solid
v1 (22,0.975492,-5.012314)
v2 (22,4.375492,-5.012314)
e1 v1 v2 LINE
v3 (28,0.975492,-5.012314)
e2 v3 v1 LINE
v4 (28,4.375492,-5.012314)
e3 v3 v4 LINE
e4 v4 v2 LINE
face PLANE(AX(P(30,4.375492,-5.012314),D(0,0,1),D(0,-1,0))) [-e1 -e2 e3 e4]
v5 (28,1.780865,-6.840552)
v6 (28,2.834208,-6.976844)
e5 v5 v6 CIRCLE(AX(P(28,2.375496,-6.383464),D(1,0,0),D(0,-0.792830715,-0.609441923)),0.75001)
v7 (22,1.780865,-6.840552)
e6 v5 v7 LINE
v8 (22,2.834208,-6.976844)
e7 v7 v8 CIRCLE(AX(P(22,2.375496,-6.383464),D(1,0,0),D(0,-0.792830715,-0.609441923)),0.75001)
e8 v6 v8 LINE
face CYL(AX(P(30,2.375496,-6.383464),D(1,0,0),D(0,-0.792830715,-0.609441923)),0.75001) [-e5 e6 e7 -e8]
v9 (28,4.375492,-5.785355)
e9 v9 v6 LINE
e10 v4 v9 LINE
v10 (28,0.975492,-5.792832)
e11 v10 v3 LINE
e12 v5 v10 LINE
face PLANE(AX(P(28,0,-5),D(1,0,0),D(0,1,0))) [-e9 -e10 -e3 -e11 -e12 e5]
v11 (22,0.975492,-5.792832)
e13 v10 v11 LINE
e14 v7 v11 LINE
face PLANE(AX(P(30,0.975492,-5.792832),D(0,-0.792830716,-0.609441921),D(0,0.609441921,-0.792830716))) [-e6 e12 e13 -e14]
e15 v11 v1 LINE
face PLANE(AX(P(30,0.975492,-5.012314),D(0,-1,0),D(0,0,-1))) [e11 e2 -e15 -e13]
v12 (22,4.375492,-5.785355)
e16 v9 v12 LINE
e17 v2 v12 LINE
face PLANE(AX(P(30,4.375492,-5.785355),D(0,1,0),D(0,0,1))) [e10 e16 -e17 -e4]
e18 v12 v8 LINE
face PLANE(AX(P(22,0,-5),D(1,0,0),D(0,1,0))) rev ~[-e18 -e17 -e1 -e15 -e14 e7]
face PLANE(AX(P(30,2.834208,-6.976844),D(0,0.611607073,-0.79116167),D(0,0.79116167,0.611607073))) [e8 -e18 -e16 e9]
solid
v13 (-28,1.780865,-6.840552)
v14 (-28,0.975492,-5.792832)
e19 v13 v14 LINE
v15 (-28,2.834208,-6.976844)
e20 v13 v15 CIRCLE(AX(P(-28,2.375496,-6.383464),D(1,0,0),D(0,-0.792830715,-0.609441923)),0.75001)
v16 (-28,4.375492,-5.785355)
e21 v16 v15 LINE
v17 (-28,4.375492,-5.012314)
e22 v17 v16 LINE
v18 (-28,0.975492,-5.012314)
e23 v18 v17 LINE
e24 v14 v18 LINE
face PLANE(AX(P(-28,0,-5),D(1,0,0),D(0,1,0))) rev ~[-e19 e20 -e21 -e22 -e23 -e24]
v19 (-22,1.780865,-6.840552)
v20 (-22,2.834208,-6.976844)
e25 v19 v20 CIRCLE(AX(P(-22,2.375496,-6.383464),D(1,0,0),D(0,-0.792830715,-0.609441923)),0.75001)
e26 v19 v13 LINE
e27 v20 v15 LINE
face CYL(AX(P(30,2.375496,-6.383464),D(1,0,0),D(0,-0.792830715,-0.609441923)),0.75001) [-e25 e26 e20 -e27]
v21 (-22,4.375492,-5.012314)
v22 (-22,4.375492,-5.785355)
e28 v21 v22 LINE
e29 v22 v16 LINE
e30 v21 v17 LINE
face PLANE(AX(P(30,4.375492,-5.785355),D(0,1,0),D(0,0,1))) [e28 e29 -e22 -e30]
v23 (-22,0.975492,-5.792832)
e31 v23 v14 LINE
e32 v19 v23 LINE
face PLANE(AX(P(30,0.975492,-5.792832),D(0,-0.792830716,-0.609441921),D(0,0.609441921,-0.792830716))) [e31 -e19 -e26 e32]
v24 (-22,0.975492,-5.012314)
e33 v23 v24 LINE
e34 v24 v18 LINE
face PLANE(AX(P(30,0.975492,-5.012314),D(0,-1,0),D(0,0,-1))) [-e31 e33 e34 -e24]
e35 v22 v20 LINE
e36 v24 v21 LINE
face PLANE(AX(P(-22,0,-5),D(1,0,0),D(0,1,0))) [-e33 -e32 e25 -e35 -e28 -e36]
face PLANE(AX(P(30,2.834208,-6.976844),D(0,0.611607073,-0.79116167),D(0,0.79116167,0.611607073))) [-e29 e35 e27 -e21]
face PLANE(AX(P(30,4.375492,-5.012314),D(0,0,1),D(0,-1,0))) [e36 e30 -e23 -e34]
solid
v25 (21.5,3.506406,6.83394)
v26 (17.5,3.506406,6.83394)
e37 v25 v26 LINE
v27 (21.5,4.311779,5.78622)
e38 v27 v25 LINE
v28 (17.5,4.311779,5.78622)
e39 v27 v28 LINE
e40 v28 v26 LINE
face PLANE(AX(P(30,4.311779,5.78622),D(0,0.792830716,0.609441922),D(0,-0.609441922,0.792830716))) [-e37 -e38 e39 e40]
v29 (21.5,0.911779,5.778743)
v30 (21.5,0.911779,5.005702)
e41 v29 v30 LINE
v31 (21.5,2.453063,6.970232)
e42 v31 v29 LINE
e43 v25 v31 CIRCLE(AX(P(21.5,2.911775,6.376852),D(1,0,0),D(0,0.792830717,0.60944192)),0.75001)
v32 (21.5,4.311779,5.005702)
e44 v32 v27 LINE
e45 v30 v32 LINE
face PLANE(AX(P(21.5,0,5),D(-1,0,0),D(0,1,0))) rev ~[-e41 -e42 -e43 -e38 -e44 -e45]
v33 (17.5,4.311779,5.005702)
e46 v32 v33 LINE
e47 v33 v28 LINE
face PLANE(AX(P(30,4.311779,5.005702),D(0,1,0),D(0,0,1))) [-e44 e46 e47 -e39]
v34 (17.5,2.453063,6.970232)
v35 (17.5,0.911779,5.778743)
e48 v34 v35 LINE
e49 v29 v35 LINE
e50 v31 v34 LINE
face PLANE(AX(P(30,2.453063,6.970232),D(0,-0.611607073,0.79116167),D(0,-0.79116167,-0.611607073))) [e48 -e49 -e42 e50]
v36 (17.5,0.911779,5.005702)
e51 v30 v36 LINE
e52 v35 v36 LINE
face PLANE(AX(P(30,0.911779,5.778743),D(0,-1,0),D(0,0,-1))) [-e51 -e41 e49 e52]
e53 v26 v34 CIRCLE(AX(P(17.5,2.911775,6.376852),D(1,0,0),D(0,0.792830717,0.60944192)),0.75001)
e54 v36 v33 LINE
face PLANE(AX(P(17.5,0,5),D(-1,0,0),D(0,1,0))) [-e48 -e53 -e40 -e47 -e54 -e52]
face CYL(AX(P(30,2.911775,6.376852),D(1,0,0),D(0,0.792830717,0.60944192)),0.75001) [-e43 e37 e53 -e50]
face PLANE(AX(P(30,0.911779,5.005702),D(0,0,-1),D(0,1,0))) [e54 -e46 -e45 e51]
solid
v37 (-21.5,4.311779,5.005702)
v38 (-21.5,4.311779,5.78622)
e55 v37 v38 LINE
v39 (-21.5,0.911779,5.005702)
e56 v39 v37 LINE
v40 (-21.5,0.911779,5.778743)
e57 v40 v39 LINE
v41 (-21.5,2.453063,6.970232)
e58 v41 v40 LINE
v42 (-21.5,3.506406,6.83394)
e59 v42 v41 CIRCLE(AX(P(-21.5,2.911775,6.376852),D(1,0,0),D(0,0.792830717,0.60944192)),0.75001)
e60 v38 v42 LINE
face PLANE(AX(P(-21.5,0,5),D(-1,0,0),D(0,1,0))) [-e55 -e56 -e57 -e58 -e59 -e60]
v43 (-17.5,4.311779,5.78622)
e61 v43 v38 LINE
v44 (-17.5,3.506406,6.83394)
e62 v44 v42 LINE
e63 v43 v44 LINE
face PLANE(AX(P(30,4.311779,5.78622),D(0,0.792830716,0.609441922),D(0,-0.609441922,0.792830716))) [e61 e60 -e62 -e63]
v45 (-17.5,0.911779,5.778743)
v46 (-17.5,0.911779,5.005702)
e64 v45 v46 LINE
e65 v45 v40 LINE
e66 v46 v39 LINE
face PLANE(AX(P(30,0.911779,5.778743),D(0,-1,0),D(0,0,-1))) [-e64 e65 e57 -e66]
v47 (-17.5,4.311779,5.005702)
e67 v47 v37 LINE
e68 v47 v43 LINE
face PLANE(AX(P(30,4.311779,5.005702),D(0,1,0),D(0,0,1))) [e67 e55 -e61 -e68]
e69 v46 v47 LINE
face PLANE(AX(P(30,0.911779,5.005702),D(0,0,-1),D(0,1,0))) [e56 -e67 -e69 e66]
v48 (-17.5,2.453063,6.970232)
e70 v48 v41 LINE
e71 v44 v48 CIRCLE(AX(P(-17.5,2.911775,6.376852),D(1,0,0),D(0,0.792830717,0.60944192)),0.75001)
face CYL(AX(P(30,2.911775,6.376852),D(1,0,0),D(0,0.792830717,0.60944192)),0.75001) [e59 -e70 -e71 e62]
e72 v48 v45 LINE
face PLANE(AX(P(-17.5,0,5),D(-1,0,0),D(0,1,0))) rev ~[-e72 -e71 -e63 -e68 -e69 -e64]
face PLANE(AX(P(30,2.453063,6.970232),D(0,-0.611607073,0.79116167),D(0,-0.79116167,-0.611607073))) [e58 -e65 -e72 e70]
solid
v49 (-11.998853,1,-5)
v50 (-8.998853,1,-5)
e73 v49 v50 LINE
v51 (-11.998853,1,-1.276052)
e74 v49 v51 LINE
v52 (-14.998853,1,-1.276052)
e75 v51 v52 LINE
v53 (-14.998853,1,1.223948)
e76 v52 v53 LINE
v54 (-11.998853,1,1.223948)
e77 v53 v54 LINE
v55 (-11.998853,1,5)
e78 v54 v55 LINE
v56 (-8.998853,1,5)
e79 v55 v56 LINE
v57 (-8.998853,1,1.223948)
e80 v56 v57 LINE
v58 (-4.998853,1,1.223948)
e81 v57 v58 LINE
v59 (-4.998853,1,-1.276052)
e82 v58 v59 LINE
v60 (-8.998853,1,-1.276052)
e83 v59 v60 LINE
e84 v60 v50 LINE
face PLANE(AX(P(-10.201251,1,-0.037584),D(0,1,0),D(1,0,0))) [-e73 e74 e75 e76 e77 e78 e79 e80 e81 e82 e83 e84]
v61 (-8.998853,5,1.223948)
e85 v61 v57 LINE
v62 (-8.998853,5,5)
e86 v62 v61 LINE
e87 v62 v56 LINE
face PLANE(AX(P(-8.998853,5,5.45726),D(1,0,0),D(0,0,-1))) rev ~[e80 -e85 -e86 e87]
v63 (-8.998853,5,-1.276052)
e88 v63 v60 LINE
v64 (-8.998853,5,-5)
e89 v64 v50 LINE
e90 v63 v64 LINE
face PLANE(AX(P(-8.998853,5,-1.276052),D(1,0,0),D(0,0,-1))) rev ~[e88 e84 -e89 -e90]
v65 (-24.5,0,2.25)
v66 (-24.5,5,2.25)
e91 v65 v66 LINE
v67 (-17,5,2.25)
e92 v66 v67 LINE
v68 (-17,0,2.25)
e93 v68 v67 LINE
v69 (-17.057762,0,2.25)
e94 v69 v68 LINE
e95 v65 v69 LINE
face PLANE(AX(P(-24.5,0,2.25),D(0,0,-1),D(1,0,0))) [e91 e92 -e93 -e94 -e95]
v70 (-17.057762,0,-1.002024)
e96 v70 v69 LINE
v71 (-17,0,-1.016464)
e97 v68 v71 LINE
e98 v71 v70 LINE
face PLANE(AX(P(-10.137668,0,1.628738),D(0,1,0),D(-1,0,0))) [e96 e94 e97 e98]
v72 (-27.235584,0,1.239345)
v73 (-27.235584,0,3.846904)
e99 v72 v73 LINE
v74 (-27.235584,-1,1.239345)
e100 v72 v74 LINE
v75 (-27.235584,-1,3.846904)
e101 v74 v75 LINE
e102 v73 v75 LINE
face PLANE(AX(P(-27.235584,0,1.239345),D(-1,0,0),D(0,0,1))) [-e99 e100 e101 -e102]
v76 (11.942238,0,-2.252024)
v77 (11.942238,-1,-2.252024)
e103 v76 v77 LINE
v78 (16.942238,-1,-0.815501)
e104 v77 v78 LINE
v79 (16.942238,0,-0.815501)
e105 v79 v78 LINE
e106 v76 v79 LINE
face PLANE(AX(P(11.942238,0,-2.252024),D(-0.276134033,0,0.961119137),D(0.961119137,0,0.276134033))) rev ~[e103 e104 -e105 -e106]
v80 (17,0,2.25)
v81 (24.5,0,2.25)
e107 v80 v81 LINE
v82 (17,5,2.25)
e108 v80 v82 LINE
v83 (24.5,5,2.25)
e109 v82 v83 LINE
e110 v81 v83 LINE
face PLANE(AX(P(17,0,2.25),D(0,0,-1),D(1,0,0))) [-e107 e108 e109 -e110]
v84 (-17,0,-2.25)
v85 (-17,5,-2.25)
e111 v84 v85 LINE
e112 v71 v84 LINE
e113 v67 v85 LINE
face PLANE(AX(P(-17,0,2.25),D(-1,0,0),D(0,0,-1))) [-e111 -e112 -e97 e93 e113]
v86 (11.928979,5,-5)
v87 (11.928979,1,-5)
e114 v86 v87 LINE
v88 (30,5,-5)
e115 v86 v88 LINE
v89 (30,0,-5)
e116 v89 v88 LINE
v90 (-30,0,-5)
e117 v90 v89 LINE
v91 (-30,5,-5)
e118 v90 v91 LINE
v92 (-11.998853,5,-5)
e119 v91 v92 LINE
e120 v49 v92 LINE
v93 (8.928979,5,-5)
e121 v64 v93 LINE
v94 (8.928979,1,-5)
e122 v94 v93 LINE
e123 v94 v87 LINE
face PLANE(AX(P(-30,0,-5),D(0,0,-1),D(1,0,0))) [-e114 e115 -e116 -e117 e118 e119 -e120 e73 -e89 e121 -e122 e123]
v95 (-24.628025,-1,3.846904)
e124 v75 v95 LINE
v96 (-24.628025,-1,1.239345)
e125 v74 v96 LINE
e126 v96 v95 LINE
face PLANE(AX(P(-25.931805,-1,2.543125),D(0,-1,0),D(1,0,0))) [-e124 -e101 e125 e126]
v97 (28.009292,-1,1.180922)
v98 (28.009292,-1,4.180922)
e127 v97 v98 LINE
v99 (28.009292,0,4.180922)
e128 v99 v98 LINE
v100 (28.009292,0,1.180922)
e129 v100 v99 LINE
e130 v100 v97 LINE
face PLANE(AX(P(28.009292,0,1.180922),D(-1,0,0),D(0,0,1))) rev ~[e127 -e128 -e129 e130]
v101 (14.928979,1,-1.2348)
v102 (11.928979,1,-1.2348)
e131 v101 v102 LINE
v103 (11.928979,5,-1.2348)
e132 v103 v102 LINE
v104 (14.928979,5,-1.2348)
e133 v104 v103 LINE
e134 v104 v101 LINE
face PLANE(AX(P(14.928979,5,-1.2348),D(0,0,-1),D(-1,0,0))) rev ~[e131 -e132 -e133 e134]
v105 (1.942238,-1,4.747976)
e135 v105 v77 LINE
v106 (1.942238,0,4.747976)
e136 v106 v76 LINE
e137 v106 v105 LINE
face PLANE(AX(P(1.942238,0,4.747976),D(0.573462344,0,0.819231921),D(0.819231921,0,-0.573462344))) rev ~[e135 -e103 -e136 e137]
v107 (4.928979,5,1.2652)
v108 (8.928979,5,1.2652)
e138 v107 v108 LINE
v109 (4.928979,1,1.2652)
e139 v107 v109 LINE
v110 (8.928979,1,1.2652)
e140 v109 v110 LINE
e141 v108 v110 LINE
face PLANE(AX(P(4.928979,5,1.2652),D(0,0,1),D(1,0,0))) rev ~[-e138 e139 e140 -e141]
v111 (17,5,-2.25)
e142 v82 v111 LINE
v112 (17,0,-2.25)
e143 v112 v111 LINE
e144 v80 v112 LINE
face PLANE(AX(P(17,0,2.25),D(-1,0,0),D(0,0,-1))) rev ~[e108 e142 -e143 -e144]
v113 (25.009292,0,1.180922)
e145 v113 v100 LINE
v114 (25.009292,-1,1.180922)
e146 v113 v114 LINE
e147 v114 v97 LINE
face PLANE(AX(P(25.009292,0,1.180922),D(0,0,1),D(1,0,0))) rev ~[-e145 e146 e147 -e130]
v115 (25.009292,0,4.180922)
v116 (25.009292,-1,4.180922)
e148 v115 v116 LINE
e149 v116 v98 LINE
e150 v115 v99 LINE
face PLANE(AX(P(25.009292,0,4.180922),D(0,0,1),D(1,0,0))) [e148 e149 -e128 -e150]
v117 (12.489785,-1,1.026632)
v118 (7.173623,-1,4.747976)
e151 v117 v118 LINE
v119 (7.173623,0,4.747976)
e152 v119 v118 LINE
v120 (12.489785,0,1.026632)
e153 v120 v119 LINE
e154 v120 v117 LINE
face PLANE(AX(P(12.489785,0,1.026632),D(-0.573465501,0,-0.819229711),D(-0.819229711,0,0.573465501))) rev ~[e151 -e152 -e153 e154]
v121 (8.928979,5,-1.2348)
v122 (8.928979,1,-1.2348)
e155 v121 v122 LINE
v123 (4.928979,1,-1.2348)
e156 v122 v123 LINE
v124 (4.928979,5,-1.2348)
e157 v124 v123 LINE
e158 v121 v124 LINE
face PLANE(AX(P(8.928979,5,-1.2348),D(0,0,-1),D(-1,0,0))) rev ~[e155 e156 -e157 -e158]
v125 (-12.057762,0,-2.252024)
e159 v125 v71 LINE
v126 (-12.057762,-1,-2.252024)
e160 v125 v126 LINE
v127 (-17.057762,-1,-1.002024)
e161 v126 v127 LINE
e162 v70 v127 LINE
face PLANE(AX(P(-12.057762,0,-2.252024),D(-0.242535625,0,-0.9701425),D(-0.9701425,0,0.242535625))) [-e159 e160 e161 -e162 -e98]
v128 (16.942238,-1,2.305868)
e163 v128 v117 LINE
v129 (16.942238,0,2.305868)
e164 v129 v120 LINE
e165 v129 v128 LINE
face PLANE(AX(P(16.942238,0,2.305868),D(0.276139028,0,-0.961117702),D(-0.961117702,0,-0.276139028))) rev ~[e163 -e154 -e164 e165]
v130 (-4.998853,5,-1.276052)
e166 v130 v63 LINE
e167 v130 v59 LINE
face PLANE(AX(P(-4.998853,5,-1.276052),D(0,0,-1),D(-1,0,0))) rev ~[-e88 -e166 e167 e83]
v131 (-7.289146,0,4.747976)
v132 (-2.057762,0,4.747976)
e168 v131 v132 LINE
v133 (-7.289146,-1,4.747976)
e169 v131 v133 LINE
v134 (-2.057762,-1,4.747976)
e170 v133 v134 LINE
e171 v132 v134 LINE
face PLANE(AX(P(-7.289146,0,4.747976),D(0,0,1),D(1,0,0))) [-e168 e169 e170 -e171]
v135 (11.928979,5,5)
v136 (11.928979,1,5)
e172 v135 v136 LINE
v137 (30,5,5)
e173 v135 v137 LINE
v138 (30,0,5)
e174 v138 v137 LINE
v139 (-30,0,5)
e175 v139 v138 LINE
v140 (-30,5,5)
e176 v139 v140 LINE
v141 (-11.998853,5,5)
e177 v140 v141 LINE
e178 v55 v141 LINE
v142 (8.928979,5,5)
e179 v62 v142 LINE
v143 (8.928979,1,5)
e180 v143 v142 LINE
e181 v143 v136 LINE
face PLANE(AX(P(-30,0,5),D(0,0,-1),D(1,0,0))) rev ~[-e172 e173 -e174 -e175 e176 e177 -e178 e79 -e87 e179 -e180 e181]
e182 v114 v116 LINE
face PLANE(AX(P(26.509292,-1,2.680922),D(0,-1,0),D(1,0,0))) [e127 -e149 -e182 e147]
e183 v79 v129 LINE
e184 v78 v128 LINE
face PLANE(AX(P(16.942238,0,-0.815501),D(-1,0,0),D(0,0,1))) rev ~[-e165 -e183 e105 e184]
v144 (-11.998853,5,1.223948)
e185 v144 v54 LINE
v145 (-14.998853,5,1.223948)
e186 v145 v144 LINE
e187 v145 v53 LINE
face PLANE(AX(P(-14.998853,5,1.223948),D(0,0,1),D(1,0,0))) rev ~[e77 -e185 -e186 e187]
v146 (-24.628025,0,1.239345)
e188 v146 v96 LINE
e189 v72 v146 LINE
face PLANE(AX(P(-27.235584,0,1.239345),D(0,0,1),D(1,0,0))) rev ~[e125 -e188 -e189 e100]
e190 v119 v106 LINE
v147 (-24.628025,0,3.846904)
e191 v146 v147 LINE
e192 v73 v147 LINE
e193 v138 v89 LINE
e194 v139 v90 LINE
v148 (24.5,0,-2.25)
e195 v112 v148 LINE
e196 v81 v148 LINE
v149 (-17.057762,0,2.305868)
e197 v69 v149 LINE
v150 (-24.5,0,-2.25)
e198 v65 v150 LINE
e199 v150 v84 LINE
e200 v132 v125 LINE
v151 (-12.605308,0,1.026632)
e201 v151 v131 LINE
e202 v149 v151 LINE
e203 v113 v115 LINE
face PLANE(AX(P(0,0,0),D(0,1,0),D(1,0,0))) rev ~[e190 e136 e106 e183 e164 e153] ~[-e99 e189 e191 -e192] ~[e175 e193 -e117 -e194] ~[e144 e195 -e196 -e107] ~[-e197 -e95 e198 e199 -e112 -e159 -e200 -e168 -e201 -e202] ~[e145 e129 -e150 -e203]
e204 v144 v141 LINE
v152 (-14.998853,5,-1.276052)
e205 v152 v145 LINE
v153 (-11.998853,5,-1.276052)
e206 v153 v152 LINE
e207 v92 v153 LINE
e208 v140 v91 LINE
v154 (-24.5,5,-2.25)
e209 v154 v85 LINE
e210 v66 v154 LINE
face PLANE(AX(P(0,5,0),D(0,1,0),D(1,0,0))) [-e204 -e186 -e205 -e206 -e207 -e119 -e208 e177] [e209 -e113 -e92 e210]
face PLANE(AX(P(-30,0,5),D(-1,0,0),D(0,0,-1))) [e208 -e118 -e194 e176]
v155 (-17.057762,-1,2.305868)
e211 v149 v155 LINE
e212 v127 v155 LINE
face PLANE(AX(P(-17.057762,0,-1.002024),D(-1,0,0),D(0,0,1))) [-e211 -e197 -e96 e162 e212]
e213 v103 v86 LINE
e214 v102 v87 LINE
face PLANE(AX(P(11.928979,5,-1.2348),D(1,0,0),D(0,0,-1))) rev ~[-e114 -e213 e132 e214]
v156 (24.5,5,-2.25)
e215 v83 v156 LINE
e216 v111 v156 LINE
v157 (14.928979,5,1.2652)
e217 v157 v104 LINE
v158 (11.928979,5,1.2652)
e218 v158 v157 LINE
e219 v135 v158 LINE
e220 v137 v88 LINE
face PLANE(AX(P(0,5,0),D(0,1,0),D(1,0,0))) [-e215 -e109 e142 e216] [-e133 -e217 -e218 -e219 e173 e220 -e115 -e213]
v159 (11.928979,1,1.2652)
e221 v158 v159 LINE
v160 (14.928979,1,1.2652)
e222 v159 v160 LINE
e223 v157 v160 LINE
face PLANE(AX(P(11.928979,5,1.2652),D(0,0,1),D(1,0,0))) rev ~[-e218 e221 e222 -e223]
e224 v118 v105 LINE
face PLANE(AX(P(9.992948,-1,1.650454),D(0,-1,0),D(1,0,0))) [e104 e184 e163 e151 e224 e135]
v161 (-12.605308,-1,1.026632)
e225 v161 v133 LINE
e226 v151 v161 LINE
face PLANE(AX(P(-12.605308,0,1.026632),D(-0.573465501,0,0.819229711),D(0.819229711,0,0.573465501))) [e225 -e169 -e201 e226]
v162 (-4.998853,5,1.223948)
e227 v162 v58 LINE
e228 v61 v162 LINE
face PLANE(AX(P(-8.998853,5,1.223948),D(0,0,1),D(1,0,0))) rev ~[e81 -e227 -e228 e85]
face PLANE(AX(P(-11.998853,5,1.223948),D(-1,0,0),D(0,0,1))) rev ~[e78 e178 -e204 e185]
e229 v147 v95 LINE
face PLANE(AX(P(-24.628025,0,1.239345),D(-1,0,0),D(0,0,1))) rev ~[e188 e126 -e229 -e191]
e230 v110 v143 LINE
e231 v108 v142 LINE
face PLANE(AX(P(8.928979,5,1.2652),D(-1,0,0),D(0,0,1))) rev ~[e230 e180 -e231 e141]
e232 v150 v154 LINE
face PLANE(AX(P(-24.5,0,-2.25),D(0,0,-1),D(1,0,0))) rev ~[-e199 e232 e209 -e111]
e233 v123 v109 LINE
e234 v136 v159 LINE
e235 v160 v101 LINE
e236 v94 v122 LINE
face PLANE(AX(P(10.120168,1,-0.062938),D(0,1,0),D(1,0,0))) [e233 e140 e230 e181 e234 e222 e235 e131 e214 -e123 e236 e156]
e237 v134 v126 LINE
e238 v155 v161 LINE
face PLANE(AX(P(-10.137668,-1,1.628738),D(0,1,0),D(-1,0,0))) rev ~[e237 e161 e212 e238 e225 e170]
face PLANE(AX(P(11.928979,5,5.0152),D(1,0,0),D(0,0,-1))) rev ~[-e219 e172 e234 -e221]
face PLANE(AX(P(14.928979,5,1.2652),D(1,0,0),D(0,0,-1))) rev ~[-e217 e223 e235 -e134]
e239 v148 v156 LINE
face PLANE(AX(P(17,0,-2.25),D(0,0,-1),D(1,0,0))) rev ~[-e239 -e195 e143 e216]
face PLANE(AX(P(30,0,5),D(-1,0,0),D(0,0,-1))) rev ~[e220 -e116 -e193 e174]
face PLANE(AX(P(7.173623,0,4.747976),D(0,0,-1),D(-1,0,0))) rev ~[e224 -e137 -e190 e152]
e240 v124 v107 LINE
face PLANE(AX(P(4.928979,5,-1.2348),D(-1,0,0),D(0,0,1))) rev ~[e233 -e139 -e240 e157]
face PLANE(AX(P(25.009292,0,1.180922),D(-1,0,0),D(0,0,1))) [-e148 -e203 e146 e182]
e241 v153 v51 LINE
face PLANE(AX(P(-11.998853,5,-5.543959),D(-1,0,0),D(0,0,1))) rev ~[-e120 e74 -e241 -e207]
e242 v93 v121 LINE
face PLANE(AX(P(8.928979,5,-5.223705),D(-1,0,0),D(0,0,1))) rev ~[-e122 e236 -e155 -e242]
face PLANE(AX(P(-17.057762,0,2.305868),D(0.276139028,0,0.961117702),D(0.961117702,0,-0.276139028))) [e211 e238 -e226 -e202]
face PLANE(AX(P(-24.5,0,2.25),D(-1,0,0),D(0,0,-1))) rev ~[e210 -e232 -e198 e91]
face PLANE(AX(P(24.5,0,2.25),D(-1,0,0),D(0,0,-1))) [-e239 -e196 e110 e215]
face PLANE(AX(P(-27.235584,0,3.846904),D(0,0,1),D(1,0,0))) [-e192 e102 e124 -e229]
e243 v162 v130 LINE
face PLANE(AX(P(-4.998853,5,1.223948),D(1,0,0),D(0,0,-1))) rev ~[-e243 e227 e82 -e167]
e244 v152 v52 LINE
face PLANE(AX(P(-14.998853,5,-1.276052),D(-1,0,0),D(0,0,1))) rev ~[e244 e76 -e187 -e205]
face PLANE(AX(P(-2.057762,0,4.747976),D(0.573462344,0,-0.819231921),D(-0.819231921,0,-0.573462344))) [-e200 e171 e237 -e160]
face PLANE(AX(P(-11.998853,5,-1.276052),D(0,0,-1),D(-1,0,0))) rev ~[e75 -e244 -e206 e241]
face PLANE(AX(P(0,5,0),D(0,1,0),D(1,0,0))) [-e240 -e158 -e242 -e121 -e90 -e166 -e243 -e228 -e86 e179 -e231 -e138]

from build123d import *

# Parameters (mm, degrees)
SKETCH2_W             = 60
SKETCH2_H             = 10
SKETCH2_W_2           = 7.5
SKETCH2_H_2           = 4.5
BOSS_EXTRUDE2_DEPTH   = 5
BOSS_EXTRUDE5_DEPTH   = 60
BOSS_EXTRUDE5_2_DEPTH = 60
SKETCH7_W             = 2
SKETCH7_H             = 5
SKETCH7_W_2           = 44
CUT_EXTRUDE1_DEPTH    = 13
SKETCH8_W             = 8.5
SKETCH8_H             = 5
SKETCH8_W_2           = 35
CUT_EXTRUDE2_DEPTH    = 13
CUT_EXTRUDE3_DEPTH    = 4
CUT_EXTRUDE4_DEPTH    = 4
SKETCH11_W            = 2.607558909
SKETCH11_H            = 2.607558909
SKETCH11_W_2          = 3
SKETCH11_H_2          = 3
BOSS_EXTRUDE6_DEPTH   = 1


with BuildPart() as part:
    # Sketch2 → Boss-Extrude2 (new body)
    with BuildSketch(Plane(origin=(0, 0, 0), x_dir=(1, 0, 0), z_dir=(0, 1, 0))):
        Rectangle(SKETCH2_W, SKETCH2_H)
        with Locations((-20.75, 0)):
            Rectangle(SKETCH2_W_2, SKETCH2_H_2, mode=Mode.SUBTRACT)
        with Locations((20.75, 0)):
            Rectangle(SKETCH2_W_2, SKETCH2_H_2, mode=Mode.SUBTRACT)
    extrude(amount=BOSS_EXTRUDE2_DEPTH)

    # Sketch9 → Cut-Extrude3 (cut)
    with BuildSketch(Plane(origin=(0, 5, 0), x_dir=(1, 0, 0), z_dir=(0, 1, 0))):
        Polygon((11.928979033, 5.223704971), (8.928979033, 5.223704971), (8.928979033, 1.234800062), (4.928979033, 1.234800062), (4.928979033, -1.265199938), (8.928979033, -1.265199938), (8.928979033, -5.015199938), (11.928979033, -5.015199938), (11.928979033, -1.265199938), (14.928979033, -1.265199938), (14.928979033, 1.234800062), (11.928979033, 1.234800062), align=None)
    extrude(amount=-CUT_EXTRUDE3_DEPTH, mode=Mode.SUBTRACT)

    # Sketch10 → Cut-Extrude4 (cut)
    with BuildSketch(Plane(origin=(0, 5, 0), x_dir=(1, 0, 0), z_dir=(0, 1, 0))):
        Polygon((-8.998853084, 5.543958906), (-11.998853084, 5.543958906), (-11.998853084, 1.276052018), (-14.998853084, 1.276052018), (-14.998853084, -1.223947982), (-11.998853084, -1.223947982), (-11.998853084, -5.457260258), (-8.998853084, -5.457260258), (-8.998853084, -1.223947982), (-4.998853084, -1.223947982), (-4.998853084, 1.276052018), (-8.998853084, 1.276052018), align=None)
    extrude(amount=-CUT_EXTRUDE4_DEPTH, mode=Mode.SUBTRACT)

    # Sketch11 → Boss-Extrude6 (add)
    with BuildSketch(Plane.XZ):
        Polygon((-17.057761592, 2.305867808), (-12.605307979, 1.026631968), (-7.28914587, 4.747975962), (-2.057761592, 4.747975962), (-12.057761592, -2.252024038), (-17.057761592, -1.002024038), align=None)
        with Locations((-25.931804893, 2.543124907)):
            Rectangle(SKETCH11_W, SKETCH11_H)
        Polygon((11.942238408, -2.252024038), (16.942238408, -0.815500601), (16.942238408, 2.305867808), (12.489784794, 1.026631968), (7.173622685, 4.747975962), (1.942238408, 4.747975962), align=None)
        with Locations((26.509292135, 2.680922235)):
            Rectangle(SKETCH11_W_2, SKETCH11_H_2)
    extrude(amount=BOSS_EXTRUDE6_DEPTH)


with BuildPart() as body_2:
    # Sketch6 → Boss-Extrude5 (new body)
    with BuildSketch(Plane(origin=(30, 0, 0), x_dir=(0, 0, -1), z_dir=(1, 0, 0))):
        with BuildLine():
            Line((-5.005702164, 0.91177929), (-5.005702164, 4.311779386))
            Line((-5.005702164, 4.311779386), (-5.786219743, 4.311779386))
            Line((-5.786219743, 4.311779386), (-6.833939918, 3.506406203))
            ThreePointArc((-6.833939918, 3.506406203), (-7.120662065, 3.008016247), (-6.970231619, 2.45306326))
            Line((-6.970231619, 2.45306326), (-5.778742936, 0.91177929))
            Line((-5.778742936, 0.91177929), (-5.005702164, 0.91177929))
        make_face()
    extrude(amount=-BOSS_EXTRUDE5_DEPTH)

    # Sketch8 → Cut-Extrude2 (cut)
    with BuildSketch(Plane.XY.offset(5)):
        with Locations((25.75, 2.5)):
            Rectangle(SKETCH8_W, SKETCH8_H)
        with Locations((0, 2.5)):
            Rectangle(SKETCH8_W_2, SKETCH8_H)
        with Locations((-25.75, 2.5)):
            Rectangle(SKETCH8_W, SKETCH8_H)
    extrude(amount=CUT_EXTRUDE2_DEPTH, mode=Mode.SUBTRACT)


with BuildPart() as body_3:
    # Sketch6 → Boss-Extrude5 2 (new body)
    with BuildSketch(Plane(origin=(30, 0, 0), x_dir=(0, 0, -1), z_dir=(1, 0, 0))):
        with BuildLine():
            Line((5.785355249, 4.375491674), (5.012314477, 4.375491674))
            Line((5.012314477, 4.375491674), (5.012314477, 0.975491579))
            Line((5.012314477, 0.975491579), (5.792832055, 0.975491579))
            Line((5.792832055, 0.975491579), (6.840552231, 1.780864761))
            ThreePointArc((6.840552231, 1.780864761), (7.127274377, 2.279254717), (6.976843932, 2.834207704))
            Line((6.976843932, 2.834207704), (5.785355249, 4.375491674))
        make_face()
    extrude(amount=-BOSS_EXTRUDE5_2_DEPTH)

    # Sketch7 → Cut-Extrude1 (cut)
    with BuildSketch(Plane(origin=(0, 0, -5), x_dir=(-1, 0, 0), z_dir=(0, 0, -1))):
        with Locations((-29, 2.5)):
            Rectangle(SKETCH7_W, SKETCH7_H)
        with Locations((0, 2.5)):
            Rectangle(SKETCH7_W_2, SKETCH7_H)
        with Locations((29, 2.5)):
            Rectangle(SKETCH7_W, SKETCH7_H)
    extrude(amount=CUT_EXTRUDE1_DEPTH, mode=Mode.SUBTRACT)


with BuildPart() as cut_extrude1_piece_1:
    # of the separate pieces the step leaves, piece 1, a body of its own (cut_extrude1_pieces)
    add(body_3.part.solids().sort_by_distance((28, 4.375491674, -5.785355249))[0])


with BuildPart() as cut_extrude1_piece_2:
    # of the separate pieces the step leaves, piece 2, a body of its own (cut_extrude1_pieces)
    add(body_3.part.solids().sort_by_distance((-22, 4.375491674, -5.785355249))[0])


with BuildPart() as cut_extrude2_piece_1:
    # of the separate pieces the step leaves, piece 1, a body of its own (cut_extrude2_pieces)
    add(body_2.part.solids().sort_by_distance((-17.5, 0.91177929, 5.778742936))[0])


with BuildPart() as cut_extrude2_piece_2:
    # of the separate pieces the step leaves, piece 2, a body of its own (cut_extrude2_pieces)
    add(body_2.part.solids().sort_by_distance((21.5, 0.91177929, 5.778742936))[0])


solid = Compound([part.part, cut_extrude1_piece_1.part, cut_extrude1_piece_2.part, cut_extrude2_piece_1.part, cut_extrude2_piece_2.part])
